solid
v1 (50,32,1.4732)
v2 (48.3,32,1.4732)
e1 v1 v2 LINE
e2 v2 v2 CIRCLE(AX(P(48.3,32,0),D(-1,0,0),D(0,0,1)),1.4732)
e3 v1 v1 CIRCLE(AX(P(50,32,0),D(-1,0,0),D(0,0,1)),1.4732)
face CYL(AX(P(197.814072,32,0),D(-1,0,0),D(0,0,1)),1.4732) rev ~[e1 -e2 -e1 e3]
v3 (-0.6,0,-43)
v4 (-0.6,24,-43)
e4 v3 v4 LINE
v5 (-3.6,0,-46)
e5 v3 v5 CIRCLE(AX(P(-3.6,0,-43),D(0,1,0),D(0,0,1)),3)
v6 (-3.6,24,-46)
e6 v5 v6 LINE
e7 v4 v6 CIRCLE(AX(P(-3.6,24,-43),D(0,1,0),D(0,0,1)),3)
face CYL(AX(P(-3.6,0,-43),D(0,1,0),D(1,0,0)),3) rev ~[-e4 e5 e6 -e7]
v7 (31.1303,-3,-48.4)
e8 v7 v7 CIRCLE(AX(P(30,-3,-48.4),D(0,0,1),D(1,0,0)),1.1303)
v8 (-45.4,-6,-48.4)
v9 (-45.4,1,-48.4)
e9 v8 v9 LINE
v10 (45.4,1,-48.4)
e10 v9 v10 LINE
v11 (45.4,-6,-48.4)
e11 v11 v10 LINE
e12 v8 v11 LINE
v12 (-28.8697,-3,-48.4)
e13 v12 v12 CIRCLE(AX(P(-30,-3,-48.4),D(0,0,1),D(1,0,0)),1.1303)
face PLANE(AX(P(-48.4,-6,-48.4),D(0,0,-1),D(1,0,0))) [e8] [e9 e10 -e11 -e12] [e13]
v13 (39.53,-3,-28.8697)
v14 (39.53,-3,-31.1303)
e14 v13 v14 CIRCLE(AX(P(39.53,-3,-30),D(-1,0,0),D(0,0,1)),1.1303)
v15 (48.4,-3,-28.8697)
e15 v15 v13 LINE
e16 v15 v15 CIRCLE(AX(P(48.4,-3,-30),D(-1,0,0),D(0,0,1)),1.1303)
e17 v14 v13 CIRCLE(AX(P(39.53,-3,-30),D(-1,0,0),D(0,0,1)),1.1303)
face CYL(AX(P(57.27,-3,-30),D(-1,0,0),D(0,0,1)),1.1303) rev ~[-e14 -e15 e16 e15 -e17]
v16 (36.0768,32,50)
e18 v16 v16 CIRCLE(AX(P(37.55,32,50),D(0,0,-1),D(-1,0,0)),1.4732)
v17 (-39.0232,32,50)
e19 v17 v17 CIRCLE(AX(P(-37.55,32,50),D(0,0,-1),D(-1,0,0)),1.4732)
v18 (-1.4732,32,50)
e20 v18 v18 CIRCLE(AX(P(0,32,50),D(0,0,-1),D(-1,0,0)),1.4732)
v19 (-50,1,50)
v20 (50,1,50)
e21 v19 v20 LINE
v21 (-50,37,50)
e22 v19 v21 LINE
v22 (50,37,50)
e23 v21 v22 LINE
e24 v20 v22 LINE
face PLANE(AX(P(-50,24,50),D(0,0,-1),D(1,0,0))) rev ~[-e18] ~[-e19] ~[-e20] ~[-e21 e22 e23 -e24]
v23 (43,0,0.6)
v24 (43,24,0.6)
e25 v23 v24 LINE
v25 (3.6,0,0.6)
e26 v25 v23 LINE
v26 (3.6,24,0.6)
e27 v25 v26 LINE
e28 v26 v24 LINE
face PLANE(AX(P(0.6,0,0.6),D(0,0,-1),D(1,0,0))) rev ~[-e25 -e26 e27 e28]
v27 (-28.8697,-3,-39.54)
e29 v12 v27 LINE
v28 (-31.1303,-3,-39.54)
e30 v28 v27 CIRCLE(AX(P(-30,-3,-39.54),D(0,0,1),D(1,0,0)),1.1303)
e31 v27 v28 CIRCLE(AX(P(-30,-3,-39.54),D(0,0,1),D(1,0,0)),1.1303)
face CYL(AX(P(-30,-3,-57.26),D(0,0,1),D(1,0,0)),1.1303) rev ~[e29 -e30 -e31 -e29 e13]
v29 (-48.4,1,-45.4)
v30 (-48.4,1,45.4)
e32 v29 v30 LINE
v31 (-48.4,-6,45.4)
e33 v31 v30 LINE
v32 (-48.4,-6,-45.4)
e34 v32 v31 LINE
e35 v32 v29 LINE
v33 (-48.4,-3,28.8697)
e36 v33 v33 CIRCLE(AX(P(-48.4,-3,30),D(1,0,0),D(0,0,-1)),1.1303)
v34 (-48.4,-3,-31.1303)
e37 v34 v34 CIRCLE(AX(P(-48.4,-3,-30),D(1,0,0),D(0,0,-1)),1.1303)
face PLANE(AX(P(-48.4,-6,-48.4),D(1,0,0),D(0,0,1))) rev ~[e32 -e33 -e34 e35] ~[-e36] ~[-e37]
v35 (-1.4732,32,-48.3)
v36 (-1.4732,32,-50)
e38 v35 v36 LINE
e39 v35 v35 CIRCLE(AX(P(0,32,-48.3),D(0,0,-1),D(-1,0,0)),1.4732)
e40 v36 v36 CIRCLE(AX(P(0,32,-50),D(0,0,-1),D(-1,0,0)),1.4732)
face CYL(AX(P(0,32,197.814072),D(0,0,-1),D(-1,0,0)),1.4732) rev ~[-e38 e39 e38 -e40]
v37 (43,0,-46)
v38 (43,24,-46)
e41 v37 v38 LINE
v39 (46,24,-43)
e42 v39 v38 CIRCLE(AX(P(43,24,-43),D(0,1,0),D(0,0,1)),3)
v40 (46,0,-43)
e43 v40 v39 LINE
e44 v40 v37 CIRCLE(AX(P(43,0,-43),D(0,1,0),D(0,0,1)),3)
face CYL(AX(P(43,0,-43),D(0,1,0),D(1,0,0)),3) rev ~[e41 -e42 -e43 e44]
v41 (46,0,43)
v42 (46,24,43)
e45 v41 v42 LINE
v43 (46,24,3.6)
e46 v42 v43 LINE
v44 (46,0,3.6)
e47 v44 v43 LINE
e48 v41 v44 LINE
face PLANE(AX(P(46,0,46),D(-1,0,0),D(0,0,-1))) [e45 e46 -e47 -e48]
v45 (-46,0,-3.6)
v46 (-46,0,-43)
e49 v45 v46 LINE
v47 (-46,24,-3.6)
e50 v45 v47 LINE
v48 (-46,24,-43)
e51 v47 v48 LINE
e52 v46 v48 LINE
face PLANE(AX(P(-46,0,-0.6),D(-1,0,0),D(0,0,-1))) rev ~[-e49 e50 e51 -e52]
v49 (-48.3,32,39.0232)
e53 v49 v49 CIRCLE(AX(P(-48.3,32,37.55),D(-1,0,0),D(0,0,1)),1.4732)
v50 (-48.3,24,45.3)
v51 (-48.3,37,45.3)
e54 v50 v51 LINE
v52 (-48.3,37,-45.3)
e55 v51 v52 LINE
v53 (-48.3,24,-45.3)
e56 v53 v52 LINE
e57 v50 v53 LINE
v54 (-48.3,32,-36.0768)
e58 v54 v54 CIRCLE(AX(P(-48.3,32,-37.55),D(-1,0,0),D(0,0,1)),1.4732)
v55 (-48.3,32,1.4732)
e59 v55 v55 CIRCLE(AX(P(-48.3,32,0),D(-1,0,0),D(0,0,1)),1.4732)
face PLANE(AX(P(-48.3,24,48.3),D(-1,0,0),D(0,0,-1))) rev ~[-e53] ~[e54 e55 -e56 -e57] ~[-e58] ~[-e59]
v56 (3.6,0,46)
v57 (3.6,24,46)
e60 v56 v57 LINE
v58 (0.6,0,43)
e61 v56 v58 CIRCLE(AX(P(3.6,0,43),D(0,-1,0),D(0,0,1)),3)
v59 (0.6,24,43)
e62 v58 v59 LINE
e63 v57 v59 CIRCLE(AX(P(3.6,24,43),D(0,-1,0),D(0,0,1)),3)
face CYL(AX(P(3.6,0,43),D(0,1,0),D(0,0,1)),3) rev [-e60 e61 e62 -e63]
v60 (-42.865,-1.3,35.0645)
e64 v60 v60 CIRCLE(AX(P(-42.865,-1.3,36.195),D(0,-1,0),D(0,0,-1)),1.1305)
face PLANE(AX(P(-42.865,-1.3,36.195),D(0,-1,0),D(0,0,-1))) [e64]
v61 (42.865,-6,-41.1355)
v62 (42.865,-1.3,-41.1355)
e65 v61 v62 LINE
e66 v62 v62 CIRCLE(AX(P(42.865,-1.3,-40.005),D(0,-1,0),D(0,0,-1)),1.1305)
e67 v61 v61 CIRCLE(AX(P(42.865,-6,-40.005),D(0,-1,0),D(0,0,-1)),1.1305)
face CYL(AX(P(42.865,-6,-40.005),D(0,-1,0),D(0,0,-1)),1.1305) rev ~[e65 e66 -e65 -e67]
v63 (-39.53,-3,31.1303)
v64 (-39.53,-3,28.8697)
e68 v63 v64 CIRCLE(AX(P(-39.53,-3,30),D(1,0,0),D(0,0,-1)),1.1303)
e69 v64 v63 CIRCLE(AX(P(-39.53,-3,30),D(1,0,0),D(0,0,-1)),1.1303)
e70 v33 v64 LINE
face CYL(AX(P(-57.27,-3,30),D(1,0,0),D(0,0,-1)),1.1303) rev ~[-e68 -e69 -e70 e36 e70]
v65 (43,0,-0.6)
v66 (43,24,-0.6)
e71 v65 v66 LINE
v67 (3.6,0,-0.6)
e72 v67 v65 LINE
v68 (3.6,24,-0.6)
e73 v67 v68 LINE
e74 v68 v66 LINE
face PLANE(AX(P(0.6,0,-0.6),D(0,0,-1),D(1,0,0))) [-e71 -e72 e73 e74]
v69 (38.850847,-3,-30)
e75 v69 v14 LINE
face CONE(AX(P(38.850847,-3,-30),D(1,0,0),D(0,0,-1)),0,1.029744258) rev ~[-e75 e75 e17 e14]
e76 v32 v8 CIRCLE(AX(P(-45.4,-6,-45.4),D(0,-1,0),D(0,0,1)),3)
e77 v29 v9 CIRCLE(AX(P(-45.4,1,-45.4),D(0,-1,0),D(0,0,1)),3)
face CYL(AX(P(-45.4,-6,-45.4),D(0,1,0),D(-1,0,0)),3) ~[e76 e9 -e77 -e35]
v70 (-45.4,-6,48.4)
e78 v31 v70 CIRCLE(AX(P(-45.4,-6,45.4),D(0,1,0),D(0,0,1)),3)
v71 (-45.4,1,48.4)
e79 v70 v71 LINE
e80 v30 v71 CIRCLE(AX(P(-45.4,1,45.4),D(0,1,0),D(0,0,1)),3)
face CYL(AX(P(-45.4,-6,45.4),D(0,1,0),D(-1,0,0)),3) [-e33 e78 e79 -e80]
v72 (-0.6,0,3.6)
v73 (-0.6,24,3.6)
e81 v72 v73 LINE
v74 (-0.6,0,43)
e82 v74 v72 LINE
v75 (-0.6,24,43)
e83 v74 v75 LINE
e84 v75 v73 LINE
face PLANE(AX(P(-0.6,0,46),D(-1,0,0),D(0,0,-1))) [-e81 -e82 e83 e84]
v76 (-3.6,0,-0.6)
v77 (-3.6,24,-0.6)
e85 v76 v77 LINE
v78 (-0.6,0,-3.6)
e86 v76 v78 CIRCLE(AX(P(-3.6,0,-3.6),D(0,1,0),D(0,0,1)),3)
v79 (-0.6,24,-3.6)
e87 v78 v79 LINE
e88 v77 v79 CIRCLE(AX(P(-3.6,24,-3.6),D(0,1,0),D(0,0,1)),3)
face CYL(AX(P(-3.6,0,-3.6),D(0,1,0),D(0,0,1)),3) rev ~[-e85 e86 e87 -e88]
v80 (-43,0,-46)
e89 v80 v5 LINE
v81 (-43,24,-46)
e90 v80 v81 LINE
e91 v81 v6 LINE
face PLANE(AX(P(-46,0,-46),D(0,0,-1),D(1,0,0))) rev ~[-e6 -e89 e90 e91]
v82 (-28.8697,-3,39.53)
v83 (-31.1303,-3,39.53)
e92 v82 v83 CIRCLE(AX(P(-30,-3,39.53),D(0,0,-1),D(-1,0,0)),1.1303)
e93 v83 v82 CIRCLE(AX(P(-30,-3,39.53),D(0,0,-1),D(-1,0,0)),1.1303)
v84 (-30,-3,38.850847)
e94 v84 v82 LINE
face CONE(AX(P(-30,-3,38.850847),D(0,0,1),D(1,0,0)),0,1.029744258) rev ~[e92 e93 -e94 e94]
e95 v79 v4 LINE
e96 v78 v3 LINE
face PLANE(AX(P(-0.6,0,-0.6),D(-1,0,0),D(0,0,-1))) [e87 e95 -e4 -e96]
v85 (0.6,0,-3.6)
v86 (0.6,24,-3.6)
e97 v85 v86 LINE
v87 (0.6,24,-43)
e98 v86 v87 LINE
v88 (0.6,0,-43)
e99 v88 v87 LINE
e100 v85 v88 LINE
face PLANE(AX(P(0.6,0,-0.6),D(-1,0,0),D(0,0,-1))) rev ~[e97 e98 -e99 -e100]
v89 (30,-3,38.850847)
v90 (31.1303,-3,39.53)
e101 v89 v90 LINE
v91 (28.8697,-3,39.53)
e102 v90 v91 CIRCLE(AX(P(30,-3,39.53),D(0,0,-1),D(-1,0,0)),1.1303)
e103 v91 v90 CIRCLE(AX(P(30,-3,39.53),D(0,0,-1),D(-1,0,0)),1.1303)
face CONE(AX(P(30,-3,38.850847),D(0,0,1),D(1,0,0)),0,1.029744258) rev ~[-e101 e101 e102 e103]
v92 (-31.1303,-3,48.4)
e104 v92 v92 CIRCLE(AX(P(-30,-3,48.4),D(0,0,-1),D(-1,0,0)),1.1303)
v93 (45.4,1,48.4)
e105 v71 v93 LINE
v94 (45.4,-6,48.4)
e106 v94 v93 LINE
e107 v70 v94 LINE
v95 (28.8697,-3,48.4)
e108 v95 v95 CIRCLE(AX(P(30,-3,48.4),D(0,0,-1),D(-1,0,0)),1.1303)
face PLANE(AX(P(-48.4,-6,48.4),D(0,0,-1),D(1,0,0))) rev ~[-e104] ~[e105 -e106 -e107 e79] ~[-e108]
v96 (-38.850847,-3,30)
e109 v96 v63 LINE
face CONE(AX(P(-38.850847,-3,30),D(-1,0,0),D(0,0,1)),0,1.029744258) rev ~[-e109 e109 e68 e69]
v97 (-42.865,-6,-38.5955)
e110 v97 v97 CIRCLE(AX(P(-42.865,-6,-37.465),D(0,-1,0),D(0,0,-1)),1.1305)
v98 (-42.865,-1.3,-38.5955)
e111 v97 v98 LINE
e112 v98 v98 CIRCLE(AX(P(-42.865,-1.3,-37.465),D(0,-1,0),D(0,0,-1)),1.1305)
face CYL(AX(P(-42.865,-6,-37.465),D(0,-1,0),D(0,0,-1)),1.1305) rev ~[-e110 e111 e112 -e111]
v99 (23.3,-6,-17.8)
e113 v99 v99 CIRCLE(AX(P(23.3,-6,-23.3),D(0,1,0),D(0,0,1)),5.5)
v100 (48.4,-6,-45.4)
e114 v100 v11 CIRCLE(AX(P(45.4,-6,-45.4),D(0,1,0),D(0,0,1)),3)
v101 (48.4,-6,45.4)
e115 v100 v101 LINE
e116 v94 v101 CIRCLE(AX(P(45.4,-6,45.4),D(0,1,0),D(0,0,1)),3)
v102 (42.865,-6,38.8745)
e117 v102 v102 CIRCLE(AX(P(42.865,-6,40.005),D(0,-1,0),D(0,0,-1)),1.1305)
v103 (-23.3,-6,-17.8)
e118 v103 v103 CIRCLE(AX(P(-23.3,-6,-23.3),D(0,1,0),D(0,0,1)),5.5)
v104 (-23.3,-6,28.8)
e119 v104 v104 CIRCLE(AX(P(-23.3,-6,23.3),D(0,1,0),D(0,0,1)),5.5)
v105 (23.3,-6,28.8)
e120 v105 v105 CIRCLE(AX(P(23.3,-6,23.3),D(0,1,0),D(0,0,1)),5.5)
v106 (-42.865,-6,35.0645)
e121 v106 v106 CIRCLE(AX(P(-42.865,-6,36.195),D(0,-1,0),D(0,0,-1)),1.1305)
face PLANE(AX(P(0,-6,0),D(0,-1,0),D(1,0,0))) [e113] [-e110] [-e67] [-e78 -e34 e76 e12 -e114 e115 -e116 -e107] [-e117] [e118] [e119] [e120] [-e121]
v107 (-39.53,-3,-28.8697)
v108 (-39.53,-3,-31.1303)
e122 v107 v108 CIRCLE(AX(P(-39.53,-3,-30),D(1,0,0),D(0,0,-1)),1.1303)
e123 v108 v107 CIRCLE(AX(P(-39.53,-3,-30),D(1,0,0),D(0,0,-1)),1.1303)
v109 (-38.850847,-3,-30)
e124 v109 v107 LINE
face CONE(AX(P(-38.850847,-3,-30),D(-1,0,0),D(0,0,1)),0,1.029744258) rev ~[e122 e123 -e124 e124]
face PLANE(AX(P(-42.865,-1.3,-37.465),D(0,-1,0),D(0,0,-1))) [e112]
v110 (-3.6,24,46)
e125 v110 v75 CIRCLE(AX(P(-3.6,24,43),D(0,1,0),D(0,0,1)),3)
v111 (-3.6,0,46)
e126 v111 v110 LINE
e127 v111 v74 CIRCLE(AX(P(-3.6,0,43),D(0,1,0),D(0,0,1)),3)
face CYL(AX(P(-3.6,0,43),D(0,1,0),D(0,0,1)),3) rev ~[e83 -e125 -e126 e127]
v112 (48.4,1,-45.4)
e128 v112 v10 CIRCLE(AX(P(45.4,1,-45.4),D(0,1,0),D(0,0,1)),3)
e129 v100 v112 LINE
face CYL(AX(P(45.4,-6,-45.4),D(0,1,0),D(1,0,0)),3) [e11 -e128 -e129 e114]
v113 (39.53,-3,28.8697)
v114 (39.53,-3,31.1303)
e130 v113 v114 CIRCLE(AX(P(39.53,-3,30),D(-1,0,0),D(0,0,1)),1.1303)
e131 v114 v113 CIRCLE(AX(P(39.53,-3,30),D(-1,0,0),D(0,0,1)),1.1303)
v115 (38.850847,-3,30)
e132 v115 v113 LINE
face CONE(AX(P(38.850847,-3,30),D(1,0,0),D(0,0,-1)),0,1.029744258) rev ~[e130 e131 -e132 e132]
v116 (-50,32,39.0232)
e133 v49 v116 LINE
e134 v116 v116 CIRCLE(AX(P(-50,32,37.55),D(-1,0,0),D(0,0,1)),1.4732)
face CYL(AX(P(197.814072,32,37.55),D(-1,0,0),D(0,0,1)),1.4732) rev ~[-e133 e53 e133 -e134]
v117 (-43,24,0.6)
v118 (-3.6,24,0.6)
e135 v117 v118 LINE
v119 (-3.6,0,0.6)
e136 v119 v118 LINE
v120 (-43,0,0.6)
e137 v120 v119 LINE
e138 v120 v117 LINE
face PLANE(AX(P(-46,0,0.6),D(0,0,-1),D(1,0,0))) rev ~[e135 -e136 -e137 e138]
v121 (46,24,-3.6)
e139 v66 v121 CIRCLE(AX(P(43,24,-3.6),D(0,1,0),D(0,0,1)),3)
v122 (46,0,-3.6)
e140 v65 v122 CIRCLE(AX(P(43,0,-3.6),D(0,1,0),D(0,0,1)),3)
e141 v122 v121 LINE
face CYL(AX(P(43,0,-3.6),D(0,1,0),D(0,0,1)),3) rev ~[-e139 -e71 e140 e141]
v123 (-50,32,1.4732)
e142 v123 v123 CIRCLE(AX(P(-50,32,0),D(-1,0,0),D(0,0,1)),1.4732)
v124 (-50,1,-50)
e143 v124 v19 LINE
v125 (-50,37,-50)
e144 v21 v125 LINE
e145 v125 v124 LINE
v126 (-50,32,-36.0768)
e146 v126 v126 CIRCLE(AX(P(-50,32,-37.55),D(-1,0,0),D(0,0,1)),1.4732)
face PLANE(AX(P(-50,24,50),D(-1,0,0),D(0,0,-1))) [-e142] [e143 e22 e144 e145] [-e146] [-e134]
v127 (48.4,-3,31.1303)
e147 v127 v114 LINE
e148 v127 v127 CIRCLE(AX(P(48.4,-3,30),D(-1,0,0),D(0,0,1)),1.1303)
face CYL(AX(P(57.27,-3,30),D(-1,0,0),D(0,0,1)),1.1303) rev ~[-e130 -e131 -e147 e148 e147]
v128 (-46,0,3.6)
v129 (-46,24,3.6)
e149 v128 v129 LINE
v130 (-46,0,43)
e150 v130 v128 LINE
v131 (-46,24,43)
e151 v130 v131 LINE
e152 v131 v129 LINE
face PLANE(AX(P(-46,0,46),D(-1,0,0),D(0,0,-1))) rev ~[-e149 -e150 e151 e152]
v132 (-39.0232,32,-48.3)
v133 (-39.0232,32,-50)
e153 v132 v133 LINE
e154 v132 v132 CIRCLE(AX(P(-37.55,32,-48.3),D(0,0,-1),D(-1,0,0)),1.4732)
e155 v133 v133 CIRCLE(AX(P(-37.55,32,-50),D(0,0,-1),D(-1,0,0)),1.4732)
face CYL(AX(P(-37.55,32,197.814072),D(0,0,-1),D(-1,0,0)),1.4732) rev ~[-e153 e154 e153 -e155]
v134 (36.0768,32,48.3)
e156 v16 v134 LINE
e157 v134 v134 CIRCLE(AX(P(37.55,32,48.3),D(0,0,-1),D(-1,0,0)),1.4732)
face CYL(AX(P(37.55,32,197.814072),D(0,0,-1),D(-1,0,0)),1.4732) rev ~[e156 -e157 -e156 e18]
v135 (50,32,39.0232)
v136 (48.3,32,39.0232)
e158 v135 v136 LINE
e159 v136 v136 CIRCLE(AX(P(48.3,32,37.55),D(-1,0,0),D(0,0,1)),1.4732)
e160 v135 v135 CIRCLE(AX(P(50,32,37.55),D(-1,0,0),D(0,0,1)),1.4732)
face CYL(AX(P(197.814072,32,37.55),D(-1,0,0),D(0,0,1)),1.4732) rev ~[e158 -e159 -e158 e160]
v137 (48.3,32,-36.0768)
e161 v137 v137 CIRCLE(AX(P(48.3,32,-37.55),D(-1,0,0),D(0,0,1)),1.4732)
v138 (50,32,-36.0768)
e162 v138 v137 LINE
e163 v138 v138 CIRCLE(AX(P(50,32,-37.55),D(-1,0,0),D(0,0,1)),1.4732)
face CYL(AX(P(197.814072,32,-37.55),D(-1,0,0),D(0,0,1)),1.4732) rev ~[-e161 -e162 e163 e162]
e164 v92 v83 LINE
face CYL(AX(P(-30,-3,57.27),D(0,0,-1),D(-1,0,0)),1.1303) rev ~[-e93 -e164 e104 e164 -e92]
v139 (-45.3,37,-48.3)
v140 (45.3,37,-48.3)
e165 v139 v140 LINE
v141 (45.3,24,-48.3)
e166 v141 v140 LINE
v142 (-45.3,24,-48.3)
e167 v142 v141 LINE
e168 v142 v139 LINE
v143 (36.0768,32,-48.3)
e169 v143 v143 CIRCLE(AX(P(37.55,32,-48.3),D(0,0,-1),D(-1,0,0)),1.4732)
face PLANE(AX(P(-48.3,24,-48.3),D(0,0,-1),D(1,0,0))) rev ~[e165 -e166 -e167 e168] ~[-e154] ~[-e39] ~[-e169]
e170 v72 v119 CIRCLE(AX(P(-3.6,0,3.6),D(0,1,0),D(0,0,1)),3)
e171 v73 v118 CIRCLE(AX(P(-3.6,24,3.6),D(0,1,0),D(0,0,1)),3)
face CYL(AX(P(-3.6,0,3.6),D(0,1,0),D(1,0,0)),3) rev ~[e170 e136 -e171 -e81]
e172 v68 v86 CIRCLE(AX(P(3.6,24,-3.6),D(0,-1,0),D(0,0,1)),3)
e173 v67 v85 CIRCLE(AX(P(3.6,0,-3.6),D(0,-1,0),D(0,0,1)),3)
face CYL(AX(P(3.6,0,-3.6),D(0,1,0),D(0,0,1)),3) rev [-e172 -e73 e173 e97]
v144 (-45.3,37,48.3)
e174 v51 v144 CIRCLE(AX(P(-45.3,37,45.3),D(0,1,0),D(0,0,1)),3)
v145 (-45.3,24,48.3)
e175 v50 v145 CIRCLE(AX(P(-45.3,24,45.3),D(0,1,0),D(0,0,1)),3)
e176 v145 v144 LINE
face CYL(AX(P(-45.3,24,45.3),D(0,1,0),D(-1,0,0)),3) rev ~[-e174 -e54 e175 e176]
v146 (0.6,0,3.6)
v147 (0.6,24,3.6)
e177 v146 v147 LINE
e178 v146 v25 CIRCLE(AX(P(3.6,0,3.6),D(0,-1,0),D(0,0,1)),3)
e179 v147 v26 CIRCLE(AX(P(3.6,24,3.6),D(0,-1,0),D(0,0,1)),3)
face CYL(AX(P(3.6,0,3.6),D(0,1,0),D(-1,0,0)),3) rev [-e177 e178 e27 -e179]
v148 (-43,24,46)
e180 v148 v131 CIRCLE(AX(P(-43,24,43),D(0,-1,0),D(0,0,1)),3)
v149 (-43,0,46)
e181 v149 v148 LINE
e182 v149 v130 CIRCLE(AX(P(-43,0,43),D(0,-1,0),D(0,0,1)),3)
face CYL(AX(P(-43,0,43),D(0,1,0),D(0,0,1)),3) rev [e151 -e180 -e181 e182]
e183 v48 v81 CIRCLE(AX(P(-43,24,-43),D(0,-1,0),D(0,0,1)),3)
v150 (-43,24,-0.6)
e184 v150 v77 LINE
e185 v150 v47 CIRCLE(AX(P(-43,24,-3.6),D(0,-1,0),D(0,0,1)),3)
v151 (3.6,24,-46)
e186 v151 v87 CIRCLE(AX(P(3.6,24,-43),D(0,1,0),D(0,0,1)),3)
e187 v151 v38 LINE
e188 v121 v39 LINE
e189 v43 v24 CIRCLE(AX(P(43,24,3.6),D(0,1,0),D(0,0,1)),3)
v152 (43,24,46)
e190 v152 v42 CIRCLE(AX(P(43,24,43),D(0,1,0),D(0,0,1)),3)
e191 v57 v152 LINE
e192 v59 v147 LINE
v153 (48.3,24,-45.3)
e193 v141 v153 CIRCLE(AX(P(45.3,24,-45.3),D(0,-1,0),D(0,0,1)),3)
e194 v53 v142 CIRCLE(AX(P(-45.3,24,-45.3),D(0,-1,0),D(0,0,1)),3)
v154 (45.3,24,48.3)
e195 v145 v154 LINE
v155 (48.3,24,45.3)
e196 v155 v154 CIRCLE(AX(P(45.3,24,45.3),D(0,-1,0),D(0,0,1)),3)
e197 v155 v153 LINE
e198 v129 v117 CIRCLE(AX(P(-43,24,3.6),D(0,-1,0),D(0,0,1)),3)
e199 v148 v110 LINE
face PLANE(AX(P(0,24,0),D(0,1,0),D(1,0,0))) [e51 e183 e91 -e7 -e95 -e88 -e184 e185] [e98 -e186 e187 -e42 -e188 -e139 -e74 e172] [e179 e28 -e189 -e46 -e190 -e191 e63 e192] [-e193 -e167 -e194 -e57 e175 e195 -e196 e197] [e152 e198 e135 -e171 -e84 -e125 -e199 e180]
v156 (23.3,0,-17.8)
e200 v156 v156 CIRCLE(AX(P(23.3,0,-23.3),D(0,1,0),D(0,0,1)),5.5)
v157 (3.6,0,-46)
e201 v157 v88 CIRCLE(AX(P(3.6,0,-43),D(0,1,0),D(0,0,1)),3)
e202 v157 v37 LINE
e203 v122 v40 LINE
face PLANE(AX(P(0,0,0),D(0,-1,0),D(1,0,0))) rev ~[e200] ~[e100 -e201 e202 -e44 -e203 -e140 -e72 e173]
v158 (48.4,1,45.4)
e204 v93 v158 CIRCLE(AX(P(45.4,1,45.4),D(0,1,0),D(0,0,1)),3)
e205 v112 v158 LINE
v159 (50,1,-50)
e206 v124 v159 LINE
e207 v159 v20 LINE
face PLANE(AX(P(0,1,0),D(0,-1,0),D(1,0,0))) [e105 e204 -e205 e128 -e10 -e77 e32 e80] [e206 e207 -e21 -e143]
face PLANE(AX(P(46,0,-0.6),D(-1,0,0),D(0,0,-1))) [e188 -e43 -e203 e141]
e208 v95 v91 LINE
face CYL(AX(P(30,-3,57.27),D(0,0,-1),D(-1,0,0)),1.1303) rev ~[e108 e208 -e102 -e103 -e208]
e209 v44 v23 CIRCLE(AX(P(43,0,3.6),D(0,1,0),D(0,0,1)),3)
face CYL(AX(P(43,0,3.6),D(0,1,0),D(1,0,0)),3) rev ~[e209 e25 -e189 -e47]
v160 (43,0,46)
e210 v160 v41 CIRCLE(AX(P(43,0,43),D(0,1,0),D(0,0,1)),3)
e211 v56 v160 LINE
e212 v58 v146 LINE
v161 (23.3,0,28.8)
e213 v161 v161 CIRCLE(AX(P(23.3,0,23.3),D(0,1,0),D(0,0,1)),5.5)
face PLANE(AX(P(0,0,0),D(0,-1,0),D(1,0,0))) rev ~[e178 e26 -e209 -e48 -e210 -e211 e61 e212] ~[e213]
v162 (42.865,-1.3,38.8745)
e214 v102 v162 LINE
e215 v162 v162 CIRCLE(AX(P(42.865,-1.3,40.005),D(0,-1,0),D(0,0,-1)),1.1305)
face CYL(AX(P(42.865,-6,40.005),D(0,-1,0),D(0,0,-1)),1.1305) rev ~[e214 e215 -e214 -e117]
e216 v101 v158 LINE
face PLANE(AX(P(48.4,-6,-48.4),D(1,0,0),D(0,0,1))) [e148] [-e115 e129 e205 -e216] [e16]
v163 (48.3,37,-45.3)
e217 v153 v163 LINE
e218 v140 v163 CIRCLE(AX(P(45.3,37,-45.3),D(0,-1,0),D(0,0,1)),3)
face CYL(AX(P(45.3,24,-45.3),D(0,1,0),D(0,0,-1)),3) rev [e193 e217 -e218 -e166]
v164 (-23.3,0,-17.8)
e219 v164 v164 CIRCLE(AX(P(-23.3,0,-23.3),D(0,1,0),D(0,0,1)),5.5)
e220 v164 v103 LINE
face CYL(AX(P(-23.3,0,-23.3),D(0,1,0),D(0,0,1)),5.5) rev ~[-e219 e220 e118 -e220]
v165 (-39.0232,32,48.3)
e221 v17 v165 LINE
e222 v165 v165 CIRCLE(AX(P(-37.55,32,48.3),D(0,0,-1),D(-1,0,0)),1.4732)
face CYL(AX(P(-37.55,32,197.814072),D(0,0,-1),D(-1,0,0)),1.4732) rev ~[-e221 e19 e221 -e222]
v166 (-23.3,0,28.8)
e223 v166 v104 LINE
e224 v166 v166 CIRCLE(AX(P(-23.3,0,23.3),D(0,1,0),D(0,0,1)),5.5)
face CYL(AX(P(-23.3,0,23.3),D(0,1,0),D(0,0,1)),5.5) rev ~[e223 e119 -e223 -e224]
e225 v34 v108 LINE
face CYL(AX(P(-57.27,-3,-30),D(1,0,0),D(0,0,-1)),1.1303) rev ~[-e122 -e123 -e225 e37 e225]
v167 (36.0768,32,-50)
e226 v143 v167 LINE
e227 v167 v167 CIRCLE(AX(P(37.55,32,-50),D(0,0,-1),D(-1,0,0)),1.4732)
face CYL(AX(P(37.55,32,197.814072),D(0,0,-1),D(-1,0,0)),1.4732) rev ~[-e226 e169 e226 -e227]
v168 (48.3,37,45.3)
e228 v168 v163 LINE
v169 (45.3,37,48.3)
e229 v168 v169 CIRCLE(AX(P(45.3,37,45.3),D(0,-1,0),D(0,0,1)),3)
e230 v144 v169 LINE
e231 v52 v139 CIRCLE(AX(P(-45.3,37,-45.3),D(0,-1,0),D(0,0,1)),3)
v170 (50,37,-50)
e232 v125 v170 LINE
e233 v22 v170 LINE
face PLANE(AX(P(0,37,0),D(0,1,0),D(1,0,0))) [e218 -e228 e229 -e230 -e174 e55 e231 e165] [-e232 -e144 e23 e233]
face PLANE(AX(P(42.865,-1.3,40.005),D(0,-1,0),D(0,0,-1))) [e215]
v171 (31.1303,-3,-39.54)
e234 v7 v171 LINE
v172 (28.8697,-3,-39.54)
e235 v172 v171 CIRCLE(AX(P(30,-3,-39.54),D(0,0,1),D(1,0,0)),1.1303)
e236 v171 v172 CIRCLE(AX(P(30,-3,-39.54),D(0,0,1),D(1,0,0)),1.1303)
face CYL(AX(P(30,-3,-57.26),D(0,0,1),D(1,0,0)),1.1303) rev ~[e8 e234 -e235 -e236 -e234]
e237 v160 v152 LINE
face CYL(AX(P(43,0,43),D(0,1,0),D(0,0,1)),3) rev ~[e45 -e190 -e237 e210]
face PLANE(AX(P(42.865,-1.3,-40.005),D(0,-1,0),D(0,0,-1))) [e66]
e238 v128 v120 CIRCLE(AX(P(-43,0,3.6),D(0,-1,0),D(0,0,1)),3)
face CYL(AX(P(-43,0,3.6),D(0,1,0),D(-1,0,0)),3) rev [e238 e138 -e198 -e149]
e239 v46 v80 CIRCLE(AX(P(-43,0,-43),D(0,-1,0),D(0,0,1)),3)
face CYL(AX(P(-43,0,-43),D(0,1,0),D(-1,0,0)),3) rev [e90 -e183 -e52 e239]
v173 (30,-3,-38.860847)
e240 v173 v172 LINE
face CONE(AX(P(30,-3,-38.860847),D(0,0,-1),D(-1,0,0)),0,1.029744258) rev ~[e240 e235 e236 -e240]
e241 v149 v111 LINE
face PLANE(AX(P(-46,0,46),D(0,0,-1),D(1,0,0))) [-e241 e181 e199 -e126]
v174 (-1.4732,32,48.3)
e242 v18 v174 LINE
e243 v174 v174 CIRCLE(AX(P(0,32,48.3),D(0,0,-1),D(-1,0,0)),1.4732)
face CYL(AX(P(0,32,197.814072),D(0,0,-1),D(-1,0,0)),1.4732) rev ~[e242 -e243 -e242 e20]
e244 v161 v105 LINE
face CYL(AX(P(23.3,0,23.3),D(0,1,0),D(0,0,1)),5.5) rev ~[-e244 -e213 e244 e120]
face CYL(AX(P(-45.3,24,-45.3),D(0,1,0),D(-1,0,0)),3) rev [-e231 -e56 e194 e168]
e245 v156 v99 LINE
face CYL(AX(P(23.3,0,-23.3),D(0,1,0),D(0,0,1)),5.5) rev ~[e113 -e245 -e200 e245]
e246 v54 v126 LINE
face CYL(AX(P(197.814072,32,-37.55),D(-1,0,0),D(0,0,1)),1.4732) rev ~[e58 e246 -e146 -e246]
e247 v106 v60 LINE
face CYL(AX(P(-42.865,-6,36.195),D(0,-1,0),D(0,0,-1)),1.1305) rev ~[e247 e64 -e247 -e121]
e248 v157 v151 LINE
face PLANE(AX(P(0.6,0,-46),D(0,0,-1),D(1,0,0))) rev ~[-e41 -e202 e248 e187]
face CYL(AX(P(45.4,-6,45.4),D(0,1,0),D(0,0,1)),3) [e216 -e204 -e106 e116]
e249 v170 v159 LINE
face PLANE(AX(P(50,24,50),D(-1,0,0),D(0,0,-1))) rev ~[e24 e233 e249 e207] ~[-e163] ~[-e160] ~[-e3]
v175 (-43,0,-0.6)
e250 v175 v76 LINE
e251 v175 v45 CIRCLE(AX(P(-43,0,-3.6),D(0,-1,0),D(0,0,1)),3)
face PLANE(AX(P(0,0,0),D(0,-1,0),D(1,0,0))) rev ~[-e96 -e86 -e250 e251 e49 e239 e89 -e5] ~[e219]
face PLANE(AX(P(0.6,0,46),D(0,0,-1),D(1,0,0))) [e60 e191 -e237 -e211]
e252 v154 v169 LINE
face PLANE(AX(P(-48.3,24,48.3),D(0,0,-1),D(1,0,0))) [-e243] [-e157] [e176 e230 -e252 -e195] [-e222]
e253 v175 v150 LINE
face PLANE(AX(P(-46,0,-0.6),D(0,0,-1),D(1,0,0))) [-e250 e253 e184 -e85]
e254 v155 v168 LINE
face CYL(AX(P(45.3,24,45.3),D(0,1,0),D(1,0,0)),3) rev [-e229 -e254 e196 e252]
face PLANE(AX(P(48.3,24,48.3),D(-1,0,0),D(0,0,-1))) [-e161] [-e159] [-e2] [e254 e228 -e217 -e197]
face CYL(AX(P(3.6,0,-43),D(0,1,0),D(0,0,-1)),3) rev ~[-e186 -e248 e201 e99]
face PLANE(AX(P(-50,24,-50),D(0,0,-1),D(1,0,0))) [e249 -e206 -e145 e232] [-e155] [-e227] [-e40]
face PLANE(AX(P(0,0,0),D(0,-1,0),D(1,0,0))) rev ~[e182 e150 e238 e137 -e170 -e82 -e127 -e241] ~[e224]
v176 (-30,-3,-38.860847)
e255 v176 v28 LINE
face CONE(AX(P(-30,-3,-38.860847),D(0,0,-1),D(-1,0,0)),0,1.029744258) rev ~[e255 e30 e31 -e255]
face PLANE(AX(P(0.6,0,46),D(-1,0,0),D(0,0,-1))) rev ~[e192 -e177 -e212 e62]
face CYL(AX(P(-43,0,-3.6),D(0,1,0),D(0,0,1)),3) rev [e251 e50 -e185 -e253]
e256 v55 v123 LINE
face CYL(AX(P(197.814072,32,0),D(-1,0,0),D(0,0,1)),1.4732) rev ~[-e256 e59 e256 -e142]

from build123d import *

# Parameters (mm, degrees)
SKETCH1_W                   = 100
SKETCH1_H                   = 100
SKETCH1_W_2                 = 45.4
SKETCH1_H_2                 = 45.4
BOSS_EXTRUDE1_DEPTH         = 24
FILLET1_R                   = 3
SKETCH2_W                   = 100
SKETCH2_H                   = 100
BOSS_EXTRUDE2_DEPTH         = 6
SKETCH3_W                   = 100
SKETCH3_H                   = 100
SKETCH3_W_2                 = 96.8
SKETCH3_H_2                 = 96.8
CUT_EXTRUDE1_DEPTH          = 7
SKETCH4_R                   = 1.1305
CUT_EXTRUDE2_DEPTH          = 4.7
SKETCH5_W                   = 100
SKETCH5_H                   = 100
SKETCH5_W_2                 = 96.6
SKETCH5_H_2                 = 96.6
BOSS_EXTRUDE3_DEPTH         = 13
FILLET2_R                   = 3
SKETCH6_R                   = 5.5
CUT_EXTRUDE3_DEPTH          = 80.806014811
F_32_0_116_DIAMETER_HOLE1_D = 2.9464
F_32_0_116_DIAMETER_HOLE2_D = 2.9464
F_4_40_TAPPED_HOLE1_D       = 2.2606
F_4_40_TAPPED_HOLE1_DEPTH   = 8.86
F_4_40_TAPPED_HOLE1_TIP     = 0.679152758
F_4_40_TAPPED_HOLE2_D       = 2.2606
F_4_40_TAPPED_HOLE2_DEPTH   = 8.87
F_4_40_TAPPED_HOLE2_TIP     = 0.679152758
F_4_40_TAPPED_HOLE3_D       = 2.2606
F_4_40_TAPPED_HOLE3_DEPTH   = 8.87
F_4_40_TAPPED_HOLE3_TIP     = 0.679152758
F_4_40_TAPPED_HOLE4_D       = 2.2606
F_4_40_TAPPED_HOLE4_DEPTH   = 8.87
F_4_40_TAPPED_HOLE4_TIP     = 0.679152758


with BuildPart() as part:
    # Sketch1 → Boss-Extrude1 (new body)
    with BuildSketch(Plane(origin=(0, 0, 0), x_dir=(1, 0, 0), z_dir=(0, 1, 0))):
        Rectangle(SKETCH1_W, SKETCH1_H)
        with Locations((-23.3, -23.3)):
            Rectangle(SKETCH1_W_2, SKETCH1_H_2, mode=Mode.SUBTRACT)
        with Locations((-23.3, 23.3)):
            Rectangle(SKETCH1_W_2, SKETCH1_H_2, mode=Mode.SUBTRACT)
        with Locations((23.3, -23.3)):
            Rectangle(SKETCH1_W_2, SKETCH1_H_2, mode=Mode.SUBTRACT)
        with Locations((23.3, 23.3)):
            Rectangle(SKETCH1_W_2, SKETCH1_H_2, mode=Mode.SUBTRACT)
    extrude(amount=BOSS_EXTRUDE1_DEPTH)

    # Fillet1
    fillet1_edges = [part.edges().sort_by_distance(p)[0] for p in [
        (-46, 12, 46),
        (-0.6, 12, 46),
        (-0.6, 12, 0.6),
        (-46, 12, 0.6),
        (-46, 12, -46),
        (-46, 12, -0.6),
        (-0.6, 12, -0.6),
        (-0.6, 12, -46),
        (46, 12, -0.6),
        (46, 12, -46),
        (0.6, 12, -46),
        (0.6, 12, -0.6),
        (0.6, 12, 46),
        (46, 12, 46),
        (46, 12, 0.6),
        (0.6, 12, 0.6),
    ]]
    fillet(fillet1_edges, radius=FILLET1_R)

    # Sketch2 → Boss-Extrude2 (add)
    with BuildSketch(Plane.XZ):
        Rectangle(SKETCH2_W, SKETCH2_H)
    extrude(amount=BOSS_EXTRUDE2_DEPTH)

    # Sketch3 → Cut-Extrude1 (cut)
    with BuildSketch(Plane.XZ.offset(6)):
        Rectangle(SKETCH3_W, SKETCH3_H)
        Rectangle(SKETCH3_W_2, SKETCH3_H_2, mode=Mode.SUBTRACT)
    extrude(amount=-CUT_EXTRUDE1_DEPTH, mode=Mode.SUBTRACT)

    # Sketch4 → Cut-Extrude2 (cut)
    with BuildSketch(Plane.XZ.offset(6)):
        with Locations(Location((42.865, -40.005, 0), (0, 0, 270))):
            Circle(SKETCH4_R)
        with Locations(Location((-42.865, -37.465, 0), (0, 0, 270))):
            Circle(SKETCH4_R)
        with Locations(Location((42.865, 40.005, 0), (0, 0, 270))):
            Circle(SKETCH4_R)
        with Locations(Location((-42.865, 36.195, 0), (0, 0, 270))):
            Circle(SKETCH4_R)
    extrude(amount=-CUT_EXTRUDE2_DEPTH, mode=Mode.SUBTRACT)

    # Sketch5 → Boss-Extrude3 (add)
    with BuildSketch(Plane(origin=(0, 24, 0), x_dir=(1, 0, 0), z_dir=(0, 1, 0))):
        Rectangle(SKETCH5_W, SKETCH5_H)
        Rectangle(SKETCH5_W_2, SKETCH5_H_2, mode=Mode.SUBTRACT)
    extrude(amount=BOSS_EXTRUDE3_DEPTH)

    # Fillet2
    fillet2_edges = [part.edges().sort_by_distance(p)[0] for p in [
        (-48.4, -2.5, -48.4),
        (-48.4, -2.5, 48.4),
        (48.4, -2.5, 48.4),
        (48.4, -2.5, -48.4),
        (48.3, 30.5, 48.3),
        (48.3, 30.5, -48.3),
        (-48.3, 30.5, -48.3),
        (-48.3, 30.5, 48.3),
    ]]
    fillet(fillet2_edges, radius=FILLET2_R)

    # Sketch6 → Cut-Extrude3 (cut, through all)
    with BuildSketch(Plane(origin=(0, 0, 0), x_dir=(1, 0, 0), z_dir=(0, 1, 0))):
        with Locations(Location((-23.3, 23.3, 0), (0, 0, 270))):
            Circle(SKETCH6_R)
        with Locations(Location((23.3, 23.3, 0), (0, 0, 270))):
            Circle(SKETCH6_R)
        with Locations(Location((23.3, -23.3, 0), (0, 0, 270))):
            Circle(SKETCH6_R)
        with Locations(Location((-23.3, -23.3, 0), (0, 0, 270))):
            Circle(SKETCH6_R)
    extrude(amount=-CUT_EXTRUDE3_DEPTH, mode=Mode.SUBTRACT)

    # #32 (0.116) Diameter Hole1 (through all)
    with Locations(Plane.XY.offset(50)):
        with Locations((0, 32), (-37.55, 32), (37.55, 32)):
            Hole(F_32_0_116_DIAMETER_HOLE1_D / 2)

    # #32 (0.116) Diameter Hole2 (through all)
    with Locations(Plane(origin=(50, 0, 0), x_dir=(0, 0, -1), z_dir=(1, 0, 0))):
        with Locations((0, 32), (-37.55, 32), (37.55, 32)):
            Hole(F_32_0_116_DIAMETER_HOLE2_D / 2)

    # #4-40 Tapped Hole1
    with Locations(Plane(origin=(0, 0, -48.4), x_dir=(-1, 0, 0), z_dir=(0, 0, -1))):
        with Locations((-30, -3), (30, -3)):
            Hole(F_4_40_TAPPED_HOLE1_D / 2, depth=F_4_40_TAPPED_HOLE1_DEPTH)
            with Locations((0, 0, -(F_4_40_TAPPED_HOLE1_DEPTH + F_4_40_TAPPED_HOLE1_TIP / 2))):  # 118° drill point
                Cone(0, F_4_40_TAPPED_HOLE1_D / 2, F_4_40_TAPPED_HOLE1_TIP, mode=Mode.SUBTRACT)

    # #4-40 Tapped Hole2
    with Locations(Plane(origin=(48.4, 0, 0), x_dir=(0, 0, -1), z_dir=(1, 0, 0))):
        with Locations((-30, -3), (30, -3)):
            Hole(F_4_40_TAPPED_HOLE2_D / 2, depth=F_4_40_TAPPED_HOLE2_DEPTH)
            with Locations((0, 0, -(F_4_40_TAPPED_HOLE2_DEPTH + F_4_40_TAPPED_HOLE2_TIP / 2))):  # 118° drill point
                Cone(0, F_4_40_TAPPED_HOLE2_D / 2, F_4_40_TAPPED_HOLE2_TIP, mode=Mode.SUBTRACT)

    # #4-40 Tapped Hole3
    with Locations(Plane.XY.offset(48.4)):
        with Locations((-30, -3), (30, -3)):
            Hole(F_4_40_TAPPED_HOLE3_D / 2, depth=F_4_40_TAPPED_HOLE3_DEPTH)
            with Locations((0, 0, -(F_4_40_TAPPED_HOLE3_DEPTH + F_4_40_TAPPED_HOLE3_TIP / 2))):  # 118° drill point
                Cone(0, F_4_40_TAPPED_HOLE3_D / 2, F_4_40_TAPPED_HOLE3_TIP, mode=Mode.SUBTRACT)

    # #4-40 Tapped Hole4
    with Locations(Plane.ZY.offset(48.4)):
        with Locations((-30, -3), (30, -3)):
            Hole(F_4_40_TAPPED_HOLE4_D / 2, depth=F_4_40_TAPPED_HOLE4_DEPTH)
            with Locations((0, 0, -(F_4_40_TAPPED_HOLE4_DEPTH + F_4_40_TAPPED_HOLE4_TIP / 2))):  # 118° drill point
                Cone(0, F_4_40_TAPPED_HOLE4_D / 2, F_4_40_TAPPED_HOLE4_TIP, mode=Mode.SUBTRACT)


solid = part.part
